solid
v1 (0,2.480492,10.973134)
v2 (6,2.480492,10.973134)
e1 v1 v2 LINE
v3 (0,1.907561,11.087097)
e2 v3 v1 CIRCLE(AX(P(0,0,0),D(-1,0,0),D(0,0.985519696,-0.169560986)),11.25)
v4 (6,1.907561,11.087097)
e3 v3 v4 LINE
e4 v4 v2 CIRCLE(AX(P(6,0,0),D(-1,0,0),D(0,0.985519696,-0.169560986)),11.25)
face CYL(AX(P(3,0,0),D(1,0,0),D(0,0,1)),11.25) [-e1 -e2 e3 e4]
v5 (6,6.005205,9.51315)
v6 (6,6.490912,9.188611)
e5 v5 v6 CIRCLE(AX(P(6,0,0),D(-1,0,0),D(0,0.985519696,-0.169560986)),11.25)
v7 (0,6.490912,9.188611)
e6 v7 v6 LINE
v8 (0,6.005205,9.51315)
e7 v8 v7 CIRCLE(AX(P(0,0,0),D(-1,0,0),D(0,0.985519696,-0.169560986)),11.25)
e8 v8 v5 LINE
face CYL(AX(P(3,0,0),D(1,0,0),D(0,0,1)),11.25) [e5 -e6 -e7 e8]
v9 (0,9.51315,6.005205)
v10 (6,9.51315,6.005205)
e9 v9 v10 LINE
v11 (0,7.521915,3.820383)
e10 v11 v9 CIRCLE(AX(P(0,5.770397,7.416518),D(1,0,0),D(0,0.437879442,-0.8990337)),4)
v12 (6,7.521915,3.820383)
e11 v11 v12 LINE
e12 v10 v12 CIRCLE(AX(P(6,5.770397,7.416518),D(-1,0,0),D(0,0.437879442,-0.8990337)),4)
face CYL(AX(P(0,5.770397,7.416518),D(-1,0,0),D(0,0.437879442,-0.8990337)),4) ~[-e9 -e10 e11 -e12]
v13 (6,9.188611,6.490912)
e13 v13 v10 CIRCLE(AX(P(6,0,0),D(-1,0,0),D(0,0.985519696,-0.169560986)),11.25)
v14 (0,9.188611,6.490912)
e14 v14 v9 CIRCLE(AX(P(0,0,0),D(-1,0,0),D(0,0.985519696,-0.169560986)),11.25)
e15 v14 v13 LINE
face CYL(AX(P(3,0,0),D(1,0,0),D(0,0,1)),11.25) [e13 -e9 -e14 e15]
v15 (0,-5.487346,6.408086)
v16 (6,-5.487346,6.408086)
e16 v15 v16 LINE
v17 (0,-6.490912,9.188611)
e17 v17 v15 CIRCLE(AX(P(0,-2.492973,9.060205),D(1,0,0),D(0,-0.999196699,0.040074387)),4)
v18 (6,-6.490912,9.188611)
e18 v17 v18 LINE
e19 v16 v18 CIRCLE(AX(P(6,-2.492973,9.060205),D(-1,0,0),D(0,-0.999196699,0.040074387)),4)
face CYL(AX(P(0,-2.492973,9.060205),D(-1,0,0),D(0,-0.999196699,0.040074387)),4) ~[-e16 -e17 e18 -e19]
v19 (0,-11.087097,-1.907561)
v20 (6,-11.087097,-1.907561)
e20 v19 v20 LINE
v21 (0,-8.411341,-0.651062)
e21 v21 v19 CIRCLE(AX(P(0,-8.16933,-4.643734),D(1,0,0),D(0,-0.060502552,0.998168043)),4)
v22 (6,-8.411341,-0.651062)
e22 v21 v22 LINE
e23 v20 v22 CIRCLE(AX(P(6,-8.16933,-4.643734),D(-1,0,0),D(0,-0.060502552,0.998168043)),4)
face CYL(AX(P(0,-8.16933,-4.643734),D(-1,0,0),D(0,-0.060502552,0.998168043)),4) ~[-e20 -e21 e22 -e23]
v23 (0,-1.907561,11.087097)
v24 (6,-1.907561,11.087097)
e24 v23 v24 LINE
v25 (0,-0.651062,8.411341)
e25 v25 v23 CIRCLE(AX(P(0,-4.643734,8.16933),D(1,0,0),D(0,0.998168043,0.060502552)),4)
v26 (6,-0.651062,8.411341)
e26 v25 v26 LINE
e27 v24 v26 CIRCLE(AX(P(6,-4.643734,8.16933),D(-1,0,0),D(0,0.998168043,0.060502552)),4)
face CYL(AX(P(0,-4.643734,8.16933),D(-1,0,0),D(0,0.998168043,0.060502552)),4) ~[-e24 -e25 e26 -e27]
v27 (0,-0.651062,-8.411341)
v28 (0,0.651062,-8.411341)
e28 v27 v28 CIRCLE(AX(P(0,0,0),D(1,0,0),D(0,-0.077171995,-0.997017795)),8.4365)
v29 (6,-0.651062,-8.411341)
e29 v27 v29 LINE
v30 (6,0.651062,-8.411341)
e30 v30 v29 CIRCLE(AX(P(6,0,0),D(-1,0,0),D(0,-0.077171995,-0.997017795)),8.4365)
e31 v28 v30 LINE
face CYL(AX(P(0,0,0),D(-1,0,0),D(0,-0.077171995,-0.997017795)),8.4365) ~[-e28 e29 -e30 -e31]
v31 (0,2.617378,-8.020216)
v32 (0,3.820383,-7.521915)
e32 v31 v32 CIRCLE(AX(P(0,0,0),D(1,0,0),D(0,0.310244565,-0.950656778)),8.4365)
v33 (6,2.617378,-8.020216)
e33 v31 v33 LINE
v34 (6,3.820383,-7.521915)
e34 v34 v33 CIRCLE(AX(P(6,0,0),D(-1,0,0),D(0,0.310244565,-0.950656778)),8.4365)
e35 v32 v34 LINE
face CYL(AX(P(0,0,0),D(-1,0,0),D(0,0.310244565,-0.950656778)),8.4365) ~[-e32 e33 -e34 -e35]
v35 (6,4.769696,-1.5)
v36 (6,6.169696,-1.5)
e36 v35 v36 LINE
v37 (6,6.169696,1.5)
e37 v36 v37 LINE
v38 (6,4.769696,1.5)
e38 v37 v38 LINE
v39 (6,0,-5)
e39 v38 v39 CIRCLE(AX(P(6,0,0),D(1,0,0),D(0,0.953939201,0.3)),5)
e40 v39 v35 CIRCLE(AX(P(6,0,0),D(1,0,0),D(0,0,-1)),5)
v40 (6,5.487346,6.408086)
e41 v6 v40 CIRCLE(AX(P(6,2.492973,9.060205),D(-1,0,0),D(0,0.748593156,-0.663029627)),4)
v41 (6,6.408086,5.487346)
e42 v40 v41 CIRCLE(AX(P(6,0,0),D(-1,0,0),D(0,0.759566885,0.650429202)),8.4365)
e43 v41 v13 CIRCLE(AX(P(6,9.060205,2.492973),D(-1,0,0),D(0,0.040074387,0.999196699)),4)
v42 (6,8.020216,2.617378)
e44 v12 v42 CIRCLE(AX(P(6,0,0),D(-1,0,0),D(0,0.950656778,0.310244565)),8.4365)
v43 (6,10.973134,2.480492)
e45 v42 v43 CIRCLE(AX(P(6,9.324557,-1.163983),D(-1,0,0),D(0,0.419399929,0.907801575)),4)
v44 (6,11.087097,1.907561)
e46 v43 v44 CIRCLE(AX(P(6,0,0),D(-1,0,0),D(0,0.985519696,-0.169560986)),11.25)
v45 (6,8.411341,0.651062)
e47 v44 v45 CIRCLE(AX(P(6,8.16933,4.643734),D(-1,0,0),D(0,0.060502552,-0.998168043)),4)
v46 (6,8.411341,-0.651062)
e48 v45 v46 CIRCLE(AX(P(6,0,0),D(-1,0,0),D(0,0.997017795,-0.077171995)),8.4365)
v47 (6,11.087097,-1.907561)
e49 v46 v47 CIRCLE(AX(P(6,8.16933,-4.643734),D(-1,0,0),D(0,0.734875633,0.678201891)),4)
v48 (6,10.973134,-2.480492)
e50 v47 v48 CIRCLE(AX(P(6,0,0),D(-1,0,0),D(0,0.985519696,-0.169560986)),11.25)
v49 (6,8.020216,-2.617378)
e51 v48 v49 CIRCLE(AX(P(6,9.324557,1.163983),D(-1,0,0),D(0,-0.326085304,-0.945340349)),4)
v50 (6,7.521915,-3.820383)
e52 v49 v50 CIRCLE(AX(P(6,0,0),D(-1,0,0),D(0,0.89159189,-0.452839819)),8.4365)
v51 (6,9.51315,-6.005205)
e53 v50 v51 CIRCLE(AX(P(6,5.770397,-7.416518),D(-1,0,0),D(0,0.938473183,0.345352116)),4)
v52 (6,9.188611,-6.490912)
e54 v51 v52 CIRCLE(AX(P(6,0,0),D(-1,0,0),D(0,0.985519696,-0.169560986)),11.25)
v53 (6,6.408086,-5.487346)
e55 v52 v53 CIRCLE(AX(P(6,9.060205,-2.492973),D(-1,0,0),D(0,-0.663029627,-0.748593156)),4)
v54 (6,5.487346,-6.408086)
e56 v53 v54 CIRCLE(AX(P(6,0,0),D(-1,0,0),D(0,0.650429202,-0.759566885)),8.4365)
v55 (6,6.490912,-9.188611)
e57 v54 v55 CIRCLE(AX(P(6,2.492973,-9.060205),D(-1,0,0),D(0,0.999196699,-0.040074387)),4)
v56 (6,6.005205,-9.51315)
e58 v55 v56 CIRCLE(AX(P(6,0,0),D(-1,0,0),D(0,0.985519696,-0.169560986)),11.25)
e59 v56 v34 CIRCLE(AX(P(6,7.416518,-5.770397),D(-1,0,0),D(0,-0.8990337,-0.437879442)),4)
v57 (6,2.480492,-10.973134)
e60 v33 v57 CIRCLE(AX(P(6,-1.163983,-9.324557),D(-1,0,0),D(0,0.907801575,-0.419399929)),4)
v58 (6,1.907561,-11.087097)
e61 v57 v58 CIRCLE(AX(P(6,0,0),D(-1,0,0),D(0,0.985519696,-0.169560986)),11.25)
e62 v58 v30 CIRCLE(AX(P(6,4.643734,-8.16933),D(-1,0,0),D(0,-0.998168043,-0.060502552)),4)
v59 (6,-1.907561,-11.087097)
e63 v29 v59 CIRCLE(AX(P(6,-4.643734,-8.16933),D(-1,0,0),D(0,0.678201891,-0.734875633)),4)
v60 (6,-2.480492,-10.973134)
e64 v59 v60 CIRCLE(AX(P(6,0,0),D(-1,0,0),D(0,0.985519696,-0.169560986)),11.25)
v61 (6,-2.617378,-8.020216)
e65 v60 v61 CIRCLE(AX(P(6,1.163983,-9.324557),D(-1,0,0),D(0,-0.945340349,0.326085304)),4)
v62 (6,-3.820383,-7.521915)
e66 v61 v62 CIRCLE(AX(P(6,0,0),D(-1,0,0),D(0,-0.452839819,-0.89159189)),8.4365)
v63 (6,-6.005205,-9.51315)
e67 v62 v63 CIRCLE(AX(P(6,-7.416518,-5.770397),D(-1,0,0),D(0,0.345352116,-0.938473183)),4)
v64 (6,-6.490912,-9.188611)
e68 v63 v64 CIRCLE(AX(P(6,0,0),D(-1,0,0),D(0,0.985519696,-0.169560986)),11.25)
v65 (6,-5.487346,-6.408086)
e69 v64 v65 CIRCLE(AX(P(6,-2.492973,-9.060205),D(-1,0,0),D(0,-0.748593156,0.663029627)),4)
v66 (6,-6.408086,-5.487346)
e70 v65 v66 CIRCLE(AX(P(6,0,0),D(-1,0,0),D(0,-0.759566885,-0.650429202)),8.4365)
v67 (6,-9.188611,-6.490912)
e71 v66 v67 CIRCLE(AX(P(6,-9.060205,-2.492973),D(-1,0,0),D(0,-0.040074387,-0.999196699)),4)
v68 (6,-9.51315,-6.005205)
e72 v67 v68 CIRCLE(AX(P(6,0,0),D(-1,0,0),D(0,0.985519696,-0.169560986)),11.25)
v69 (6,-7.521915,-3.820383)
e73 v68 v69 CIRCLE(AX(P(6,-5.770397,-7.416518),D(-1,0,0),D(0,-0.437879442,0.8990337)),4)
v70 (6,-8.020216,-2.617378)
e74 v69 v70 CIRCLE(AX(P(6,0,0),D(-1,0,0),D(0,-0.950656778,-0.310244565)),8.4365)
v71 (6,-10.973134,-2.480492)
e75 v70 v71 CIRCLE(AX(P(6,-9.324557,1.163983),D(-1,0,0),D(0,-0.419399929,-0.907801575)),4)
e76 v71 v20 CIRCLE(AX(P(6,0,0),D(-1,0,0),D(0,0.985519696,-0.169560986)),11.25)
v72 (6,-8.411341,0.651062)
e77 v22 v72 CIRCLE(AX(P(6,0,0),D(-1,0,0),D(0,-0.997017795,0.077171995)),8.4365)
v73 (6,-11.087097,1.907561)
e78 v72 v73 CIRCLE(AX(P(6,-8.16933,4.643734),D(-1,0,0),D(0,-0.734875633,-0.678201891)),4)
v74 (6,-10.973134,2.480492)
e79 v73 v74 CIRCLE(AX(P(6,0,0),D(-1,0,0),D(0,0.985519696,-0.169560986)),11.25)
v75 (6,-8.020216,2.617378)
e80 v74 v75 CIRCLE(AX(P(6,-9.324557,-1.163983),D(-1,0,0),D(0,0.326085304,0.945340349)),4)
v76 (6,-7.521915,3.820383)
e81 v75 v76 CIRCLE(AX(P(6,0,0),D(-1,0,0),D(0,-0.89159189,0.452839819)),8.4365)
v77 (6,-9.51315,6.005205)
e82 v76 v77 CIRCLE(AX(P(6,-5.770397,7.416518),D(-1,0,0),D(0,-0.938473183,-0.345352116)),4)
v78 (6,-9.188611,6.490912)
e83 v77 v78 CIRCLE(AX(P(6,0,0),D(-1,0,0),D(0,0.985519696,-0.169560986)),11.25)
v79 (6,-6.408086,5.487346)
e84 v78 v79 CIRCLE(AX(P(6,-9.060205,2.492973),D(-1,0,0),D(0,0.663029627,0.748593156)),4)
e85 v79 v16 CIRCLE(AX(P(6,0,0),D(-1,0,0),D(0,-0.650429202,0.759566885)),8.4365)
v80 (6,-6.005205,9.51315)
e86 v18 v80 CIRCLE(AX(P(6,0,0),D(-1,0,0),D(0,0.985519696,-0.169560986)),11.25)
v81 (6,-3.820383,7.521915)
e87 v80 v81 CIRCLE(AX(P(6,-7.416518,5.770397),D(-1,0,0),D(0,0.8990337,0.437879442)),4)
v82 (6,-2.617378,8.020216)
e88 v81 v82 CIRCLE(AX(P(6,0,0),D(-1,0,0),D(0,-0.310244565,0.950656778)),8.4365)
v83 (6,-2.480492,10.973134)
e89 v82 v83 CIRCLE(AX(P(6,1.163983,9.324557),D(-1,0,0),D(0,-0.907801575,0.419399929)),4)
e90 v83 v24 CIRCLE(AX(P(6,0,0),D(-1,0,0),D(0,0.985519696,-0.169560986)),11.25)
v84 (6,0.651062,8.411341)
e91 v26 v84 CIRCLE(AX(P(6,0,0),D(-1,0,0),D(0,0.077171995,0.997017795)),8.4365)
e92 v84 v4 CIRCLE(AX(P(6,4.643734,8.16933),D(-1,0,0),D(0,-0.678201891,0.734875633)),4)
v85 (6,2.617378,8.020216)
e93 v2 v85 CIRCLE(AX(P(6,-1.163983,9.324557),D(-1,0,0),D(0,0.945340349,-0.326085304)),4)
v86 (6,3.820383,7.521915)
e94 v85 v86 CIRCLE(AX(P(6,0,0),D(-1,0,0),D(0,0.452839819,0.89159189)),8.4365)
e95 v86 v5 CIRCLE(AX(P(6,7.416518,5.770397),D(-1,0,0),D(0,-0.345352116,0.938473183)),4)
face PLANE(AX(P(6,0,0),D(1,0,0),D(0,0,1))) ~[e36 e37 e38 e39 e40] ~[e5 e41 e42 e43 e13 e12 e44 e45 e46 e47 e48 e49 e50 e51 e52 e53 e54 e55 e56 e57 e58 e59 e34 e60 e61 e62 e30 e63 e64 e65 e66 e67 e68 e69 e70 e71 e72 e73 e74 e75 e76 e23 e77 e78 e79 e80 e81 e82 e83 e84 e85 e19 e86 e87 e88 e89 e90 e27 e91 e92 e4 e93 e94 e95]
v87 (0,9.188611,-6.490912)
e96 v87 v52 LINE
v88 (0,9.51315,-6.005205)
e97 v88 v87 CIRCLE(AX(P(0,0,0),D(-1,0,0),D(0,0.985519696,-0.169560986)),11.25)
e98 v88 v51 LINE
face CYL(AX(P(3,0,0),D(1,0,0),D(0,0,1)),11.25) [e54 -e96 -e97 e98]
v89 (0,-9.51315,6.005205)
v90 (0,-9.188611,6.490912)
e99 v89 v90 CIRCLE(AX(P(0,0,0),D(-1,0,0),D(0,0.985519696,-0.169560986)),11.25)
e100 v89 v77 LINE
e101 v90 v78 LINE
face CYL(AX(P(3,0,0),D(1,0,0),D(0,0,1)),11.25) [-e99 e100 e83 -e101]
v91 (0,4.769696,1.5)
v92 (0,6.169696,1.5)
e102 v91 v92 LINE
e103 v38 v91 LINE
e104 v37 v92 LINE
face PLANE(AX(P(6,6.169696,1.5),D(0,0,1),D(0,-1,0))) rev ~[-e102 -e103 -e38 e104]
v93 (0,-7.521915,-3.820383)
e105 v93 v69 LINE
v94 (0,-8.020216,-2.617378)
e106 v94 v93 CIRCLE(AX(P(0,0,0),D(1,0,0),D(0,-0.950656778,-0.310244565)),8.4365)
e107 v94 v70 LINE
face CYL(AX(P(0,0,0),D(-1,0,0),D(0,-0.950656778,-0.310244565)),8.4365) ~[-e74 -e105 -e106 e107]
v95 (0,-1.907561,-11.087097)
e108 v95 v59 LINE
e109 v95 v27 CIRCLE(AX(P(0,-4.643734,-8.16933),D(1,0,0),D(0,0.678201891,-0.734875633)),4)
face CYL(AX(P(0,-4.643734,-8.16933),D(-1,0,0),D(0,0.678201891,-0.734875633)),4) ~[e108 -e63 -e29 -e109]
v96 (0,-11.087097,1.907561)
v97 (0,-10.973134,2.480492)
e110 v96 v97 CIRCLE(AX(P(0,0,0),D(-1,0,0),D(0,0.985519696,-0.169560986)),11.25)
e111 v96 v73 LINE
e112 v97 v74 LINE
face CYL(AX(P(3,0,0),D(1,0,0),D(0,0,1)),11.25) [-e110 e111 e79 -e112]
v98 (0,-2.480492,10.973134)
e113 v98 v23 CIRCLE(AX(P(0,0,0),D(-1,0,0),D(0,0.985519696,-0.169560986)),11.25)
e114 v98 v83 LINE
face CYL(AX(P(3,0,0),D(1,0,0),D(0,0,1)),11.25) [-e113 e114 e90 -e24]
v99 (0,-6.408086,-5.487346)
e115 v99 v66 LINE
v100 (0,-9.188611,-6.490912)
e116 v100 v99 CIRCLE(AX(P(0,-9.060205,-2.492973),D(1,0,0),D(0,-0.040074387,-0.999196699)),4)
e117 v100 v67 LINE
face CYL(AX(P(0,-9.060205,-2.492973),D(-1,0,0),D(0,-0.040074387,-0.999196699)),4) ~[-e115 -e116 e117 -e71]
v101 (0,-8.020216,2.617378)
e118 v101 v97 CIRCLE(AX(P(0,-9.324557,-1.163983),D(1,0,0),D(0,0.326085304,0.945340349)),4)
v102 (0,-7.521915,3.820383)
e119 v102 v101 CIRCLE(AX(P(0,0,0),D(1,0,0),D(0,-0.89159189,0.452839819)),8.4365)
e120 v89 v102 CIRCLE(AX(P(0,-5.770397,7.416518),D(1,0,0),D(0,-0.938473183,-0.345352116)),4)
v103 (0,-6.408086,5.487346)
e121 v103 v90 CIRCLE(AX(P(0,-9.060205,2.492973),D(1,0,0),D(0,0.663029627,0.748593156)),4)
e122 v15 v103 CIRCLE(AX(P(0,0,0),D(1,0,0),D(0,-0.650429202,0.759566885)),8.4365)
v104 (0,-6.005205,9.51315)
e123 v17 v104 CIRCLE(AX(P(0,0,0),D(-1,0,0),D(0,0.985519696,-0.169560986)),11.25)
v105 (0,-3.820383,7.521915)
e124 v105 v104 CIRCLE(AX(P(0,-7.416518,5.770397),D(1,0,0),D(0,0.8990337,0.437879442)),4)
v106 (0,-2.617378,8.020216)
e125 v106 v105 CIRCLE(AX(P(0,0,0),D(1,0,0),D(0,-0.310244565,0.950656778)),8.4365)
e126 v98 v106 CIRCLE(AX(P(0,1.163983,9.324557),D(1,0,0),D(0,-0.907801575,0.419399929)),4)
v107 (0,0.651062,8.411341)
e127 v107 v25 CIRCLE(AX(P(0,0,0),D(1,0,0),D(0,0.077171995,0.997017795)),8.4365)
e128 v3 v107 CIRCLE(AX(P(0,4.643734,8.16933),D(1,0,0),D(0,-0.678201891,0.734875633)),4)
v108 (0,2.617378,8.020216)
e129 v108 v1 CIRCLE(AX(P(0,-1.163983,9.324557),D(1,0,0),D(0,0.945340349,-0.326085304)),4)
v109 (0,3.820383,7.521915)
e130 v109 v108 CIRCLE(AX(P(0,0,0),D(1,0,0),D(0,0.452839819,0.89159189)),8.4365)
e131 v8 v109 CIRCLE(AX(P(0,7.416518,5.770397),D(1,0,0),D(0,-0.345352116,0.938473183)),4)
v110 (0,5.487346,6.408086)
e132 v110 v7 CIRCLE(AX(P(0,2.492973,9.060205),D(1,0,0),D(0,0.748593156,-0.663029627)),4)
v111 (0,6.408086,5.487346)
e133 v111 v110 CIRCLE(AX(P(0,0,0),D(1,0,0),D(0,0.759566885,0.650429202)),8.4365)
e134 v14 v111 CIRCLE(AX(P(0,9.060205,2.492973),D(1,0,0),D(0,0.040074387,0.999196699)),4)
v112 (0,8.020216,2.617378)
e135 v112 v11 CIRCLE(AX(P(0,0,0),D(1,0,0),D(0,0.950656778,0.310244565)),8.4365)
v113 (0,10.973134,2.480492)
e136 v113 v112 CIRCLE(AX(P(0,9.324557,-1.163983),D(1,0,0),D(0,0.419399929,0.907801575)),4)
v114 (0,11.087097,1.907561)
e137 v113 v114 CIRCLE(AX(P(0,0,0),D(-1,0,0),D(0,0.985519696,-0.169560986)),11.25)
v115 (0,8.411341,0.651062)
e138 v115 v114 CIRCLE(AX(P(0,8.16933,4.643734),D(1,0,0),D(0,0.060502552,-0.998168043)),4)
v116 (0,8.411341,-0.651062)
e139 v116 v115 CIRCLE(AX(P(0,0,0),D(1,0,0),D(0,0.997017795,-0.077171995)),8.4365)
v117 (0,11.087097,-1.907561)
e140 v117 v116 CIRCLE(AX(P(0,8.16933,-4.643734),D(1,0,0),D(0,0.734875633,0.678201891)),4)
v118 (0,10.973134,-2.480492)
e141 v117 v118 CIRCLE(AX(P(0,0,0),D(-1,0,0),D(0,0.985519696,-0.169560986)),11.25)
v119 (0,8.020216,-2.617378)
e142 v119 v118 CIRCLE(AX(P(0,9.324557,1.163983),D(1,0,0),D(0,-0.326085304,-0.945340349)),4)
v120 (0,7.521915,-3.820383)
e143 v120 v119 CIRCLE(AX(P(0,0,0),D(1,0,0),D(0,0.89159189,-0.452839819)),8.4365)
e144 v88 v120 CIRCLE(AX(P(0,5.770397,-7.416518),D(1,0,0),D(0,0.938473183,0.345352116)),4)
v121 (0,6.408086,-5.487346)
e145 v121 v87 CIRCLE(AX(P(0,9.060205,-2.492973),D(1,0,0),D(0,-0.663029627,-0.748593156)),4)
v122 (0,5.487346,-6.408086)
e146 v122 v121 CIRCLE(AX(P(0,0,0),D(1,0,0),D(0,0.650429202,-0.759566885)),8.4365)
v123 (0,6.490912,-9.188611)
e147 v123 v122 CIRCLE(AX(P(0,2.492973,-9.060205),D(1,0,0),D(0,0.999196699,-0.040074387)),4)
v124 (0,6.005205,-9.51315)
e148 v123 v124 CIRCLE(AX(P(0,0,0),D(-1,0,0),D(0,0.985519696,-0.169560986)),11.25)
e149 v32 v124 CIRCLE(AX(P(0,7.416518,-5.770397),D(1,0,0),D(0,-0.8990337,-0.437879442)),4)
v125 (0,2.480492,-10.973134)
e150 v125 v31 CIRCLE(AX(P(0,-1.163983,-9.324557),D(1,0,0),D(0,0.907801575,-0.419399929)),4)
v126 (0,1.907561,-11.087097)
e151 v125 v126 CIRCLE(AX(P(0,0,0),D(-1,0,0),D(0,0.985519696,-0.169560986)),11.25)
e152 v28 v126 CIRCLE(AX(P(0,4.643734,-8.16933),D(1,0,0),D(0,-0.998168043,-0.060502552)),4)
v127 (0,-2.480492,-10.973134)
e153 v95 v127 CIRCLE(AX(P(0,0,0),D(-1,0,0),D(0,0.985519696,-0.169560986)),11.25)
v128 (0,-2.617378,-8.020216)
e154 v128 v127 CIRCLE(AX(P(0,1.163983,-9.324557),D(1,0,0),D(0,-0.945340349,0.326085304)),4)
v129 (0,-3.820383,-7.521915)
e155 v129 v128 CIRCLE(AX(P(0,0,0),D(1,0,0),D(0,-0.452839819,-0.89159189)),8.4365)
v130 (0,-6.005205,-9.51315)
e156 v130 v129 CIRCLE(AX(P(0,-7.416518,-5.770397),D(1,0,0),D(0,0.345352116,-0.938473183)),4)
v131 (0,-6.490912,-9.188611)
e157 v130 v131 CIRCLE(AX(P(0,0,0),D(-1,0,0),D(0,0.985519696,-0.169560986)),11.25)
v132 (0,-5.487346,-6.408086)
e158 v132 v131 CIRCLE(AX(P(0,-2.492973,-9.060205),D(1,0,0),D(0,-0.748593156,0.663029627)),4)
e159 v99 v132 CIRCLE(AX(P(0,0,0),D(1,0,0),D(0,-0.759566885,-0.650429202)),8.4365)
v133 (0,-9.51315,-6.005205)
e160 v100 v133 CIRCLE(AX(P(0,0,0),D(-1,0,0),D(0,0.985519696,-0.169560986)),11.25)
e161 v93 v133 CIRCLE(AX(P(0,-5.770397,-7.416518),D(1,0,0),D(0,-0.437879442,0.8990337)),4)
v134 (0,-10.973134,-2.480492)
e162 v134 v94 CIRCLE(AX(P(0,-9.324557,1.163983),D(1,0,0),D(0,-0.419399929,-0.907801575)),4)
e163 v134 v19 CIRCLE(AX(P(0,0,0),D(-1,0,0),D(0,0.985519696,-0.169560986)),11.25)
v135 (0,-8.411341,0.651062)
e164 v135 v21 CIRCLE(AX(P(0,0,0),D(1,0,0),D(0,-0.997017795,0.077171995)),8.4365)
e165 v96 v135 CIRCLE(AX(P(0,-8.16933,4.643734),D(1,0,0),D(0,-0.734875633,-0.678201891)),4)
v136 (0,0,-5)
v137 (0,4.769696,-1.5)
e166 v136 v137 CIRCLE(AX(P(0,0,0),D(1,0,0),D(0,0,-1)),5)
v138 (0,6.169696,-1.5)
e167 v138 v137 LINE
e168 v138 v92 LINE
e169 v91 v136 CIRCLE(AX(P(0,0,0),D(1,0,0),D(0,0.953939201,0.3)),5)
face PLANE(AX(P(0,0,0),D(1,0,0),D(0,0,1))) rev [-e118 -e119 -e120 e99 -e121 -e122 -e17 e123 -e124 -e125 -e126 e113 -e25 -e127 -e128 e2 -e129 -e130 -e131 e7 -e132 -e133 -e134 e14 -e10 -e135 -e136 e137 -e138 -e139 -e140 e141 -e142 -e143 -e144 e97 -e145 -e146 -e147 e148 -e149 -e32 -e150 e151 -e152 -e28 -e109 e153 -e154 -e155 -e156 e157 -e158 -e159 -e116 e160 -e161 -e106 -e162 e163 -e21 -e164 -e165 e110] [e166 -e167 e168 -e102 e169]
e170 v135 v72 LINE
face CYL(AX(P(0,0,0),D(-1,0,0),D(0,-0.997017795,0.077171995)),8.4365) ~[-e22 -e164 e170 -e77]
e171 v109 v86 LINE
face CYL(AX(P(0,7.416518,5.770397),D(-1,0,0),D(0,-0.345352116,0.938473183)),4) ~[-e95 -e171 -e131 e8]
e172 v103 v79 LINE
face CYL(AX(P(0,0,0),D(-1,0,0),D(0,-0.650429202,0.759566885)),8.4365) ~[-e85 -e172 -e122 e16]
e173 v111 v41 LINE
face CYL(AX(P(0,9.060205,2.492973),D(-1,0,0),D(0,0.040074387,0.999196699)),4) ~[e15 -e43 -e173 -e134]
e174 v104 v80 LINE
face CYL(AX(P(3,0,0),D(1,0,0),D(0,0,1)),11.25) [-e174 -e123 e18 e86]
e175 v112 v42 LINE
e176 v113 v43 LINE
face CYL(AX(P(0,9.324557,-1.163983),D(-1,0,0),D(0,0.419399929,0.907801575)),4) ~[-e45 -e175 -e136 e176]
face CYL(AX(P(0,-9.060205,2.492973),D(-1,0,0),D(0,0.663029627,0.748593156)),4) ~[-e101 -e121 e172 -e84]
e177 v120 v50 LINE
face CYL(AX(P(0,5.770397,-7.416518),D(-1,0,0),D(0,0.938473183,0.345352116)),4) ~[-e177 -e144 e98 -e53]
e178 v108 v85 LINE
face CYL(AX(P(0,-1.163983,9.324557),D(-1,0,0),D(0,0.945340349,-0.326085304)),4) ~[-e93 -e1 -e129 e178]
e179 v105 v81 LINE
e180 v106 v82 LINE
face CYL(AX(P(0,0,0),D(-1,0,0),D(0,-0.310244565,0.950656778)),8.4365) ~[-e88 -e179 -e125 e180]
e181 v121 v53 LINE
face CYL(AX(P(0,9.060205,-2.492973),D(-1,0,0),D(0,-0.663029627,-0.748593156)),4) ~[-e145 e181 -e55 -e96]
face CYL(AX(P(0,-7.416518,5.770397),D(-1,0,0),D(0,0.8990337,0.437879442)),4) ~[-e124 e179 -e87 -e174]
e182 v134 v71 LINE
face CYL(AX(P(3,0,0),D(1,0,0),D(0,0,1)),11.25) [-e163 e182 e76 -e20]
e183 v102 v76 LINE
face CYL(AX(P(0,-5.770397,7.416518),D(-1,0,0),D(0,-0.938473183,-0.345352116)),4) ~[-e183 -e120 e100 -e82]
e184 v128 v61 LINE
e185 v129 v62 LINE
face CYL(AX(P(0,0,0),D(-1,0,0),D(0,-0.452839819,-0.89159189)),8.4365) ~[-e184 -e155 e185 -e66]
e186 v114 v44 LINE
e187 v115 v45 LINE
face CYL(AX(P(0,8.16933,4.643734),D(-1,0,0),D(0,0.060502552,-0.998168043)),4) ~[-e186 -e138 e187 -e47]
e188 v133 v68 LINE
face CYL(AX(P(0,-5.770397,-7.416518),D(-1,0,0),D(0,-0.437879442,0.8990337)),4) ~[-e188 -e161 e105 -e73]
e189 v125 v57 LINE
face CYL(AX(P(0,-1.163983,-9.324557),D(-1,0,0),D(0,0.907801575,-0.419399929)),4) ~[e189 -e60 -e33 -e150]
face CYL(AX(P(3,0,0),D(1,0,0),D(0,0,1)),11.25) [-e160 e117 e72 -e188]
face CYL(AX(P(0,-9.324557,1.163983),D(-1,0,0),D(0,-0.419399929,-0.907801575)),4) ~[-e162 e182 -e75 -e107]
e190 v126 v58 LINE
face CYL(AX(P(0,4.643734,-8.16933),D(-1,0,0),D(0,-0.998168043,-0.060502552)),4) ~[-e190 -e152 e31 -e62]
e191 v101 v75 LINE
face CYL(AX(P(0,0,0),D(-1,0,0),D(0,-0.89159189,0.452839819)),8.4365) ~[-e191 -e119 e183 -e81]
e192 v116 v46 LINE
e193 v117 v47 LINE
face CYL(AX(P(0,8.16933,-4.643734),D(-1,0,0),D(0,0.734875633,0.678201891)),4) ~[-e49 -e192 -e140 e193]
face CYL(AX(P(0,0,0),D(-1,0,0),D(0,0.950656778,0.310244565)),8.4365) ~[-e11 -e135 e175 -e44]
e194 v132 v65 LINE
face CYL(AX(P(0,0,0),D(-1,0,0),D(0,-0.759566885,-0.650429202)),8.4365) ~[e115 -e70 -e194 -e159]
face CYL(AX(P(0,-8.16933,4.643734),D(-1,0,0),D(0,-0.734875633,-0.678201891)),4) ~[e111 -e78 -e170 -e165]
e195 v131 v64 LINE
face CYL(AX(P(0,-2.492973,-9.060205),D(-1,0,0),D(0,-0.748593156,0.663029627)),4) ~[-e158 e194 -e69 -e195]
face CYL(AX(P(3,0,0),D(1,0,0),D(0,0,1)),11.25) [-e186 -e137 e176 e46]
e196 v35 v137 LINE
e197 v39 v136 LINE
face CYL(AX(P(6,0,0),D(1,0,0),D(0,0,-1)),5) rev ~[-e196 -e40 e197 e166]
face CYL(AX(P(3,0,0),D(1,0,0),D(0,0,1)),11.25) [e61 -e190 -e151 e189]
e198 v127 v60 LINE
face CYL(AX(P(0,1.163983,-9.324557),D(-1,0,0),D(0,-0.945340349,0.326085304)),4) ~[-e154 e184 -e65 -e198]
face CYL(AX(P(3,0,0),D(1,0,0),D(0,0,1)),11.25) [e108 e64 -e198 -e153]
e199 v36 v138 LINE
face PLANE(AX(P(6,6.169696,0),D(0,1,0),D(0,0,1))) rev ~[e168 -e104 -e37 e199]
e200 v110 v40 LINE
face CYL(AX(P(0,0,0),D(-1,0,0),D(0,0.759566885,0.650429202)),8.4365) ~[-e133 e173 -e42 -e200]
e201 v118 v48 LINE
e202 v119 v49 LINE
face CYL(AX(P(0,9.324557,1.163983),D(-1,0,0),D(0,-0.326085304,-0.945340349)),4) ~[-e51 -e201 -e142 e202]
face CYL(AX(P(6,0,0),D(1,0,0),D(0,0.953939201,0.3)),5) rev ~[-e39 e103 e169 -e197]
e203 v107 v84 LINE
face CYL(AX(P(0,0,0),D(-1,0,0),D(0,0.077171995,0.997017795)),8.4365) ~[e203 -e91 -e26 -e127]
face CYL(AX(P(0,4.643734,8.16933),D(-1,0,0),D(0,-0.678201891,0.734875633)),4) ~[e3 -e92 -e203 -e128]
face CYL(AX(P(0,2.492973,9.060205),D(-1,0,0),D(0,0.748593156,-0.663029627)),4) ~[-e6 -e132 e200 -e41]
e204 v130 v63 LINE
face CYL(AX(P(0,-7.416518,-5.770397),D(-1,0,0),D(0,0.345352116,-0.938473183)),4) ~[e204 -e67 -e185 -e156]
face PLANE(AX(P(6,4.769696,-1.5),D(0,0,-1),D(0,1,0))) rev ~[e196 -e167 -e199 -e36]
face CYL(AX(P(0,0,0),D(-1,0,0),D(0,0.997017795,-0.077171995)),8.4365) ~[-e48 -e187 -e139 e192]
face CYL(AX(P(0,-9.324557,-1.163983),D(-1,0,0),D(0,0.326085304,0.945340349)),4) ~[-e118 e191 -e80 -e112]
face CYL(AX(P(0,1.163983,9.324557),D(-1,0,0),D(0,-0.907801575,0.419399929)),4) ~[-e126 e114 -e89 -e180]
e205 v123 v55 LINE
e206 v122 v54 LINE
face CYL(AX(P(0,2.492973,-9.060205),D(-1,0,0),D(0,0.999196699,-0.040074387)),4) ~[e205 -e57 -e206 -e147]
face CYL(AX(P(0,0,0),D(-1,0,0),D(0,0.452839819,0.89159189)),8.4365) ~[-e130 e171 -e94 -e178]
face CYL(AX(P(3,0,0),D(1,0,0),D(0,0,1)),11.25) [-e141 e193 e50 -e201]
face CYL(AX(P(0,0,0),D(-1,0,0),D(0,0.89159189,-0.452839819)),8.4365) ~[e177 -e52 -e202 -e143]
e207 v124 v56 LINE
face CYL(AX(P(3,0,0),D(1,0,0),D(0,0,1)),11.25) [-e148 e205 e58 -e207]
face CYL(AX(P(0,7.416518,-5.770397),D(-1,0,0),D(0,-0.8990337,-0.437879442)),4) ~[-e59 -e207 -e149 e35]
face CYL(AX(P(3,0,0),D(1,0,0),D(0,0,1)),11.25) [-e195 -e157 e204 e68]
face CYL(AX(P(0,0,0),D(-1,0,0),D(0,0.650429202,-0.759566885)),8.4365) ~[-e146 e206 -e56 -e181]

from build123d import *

# Parameters (mm, degrees)
BASPROSKE_W              = 6
BASPROSKE_H              = 11.25
TOOTHCUT_DEPTH           = 18.003676073
TEETHCUTS_COUNT          = 16
TEETHCUTS_ANGLE          = 337.5
BORSKE_R                 = 0.4
BORE_DEPTH               = 50.0000508
TAGLIO_ESTRUSIONE1_DEPTH = 10


with BuildPart() as part:
    # BasProSke → Base-Revolve (revolve)
    with BuildSketch(Plane(origin=(0, 0, 0), x_dir=(1, 0, 0), z_dir=(0, 1, 0)), mode=Mode.PRIVATE) as base_revolve_sk:
        with Locations((3, 5.625)):
            Rectangle(BASPROSKE_W, BASPROSKE_H)
    revolve(base_revolve_sk.sketch.rotate(Axis((-10, 0, 0), (1, 0, 0)), 180), axis=Axis((-10, 0, 0), (1, 0, 0)))

    # TooCutSke → ToothCut (cut, through all)
    with BuildSketch(Plane(origin=(0, 0, 0), x_dir=(0, 0, -1), z_dir=(1, 0, 0))):
        with BuildLine():
            ThreePointArc((0.651061533, 8.411340626), (0, 8.4365), (-0.651061533, 8.411340626))
            ThreePointArc((-0.651061533, 8.411340626), (-1.029874156, 9.883978829), (-1.930926138, 11.108832945))
            ThreePointArc((-1.930926138, 11.108832945), (0, 11.2754), (1.930926138, 11.108832945))
            ThreePointArc((1.930926138, 11.108832945), (1.029874156, 9.883978829), (0.651061533, 8.411340626))
        make_face()
    toothcut = extrude(amount=TOOTHCUT_DEPTH, mode=Mode.SUBTRACT)

    # TeethCuts: ToothCut ×16 about axis
    teethcuts_axis = Axis((-10, 0, 0), (1, 0, 0))
    for i in range(1, TEETHCUTS_COUNT):
        add(toothcut.rotate(teethcuts_axis, i * TEETHCUTS_ANGLE / (TEETHCUTS_COUNT - 1)), mode=Mode.SUBTRACT)

    # BorSke → Bore (cut, symmetric)
    with BuildSketch(Plane(origin=(0, 0, 0), x_dir=(0, 0, -1), z_dir=(1, 0, 0))):
        with Locations(Location((0, 0, 0), (0, 0, 180))):
            Circle(BORSKE_R)
    extrude(amount=BORE_DEPTH, both=True, mode=Mode.SUBTRACT)

    # Schizzo1 → Taglio-Estrusione1 (cut)
    # profile 1 of 3: a face of its own
    with BuildSketch(Plane(origin=(6, 0, 0), x_dir=(0, 0, -1), z_dir=(1, 0, 0))):
        with BuildLine():
            ThreePointArc((1.5, 4.769696007), (0.758788496, 4.942088629), (0, 5))
            ThreePointArc((0, 5), (-0.758788496, 4.942088629), (-1.5, 4.769696007))
            ThreePointArc((-1.5, 4.769696007), (-2.958039892, -4.031128874), (5, 0))
            ThreePointArc((5, 0), (4.031128874, 2.958039892), (1.5, 4.769696007))
        make_face()
        with BuildLine():
            ThreePointArc((0.4, 0), (-0.282842712, -0.282842712), (0, 0.4))
            ThreePointArc((0, 0.4), (0.282842712, 0.282842712), (0.4, 0))
        make_face(mode=Mode.SUBTRACT)
    # profile 2 of 3: a face of its own
    with BuildSketch(Plane(origin=(6, 0, 0), x_dir=(0, 0, -1), z_dir=(1, 0, 0))):
        with BuildLine():
            ThreePointArc((-1.5, 4.769696007), (-0.758788496, 4.942088629), (0, 5))
            Line((0, 5), (0, 6.169696007))
            Line((0, 6.169696007), (-1.5, 6.169696007))
            Line((-1.5, 6.169696007), (-1.5, 4.769696007))
        make_face()
    # profile 3 of 3: a face of its own
    with BuildSketch(Plane(origin=(6, 0, 0), x_dir=(0, 0, -1), z_dir=(1, 0, 0))):
        with BuildLine():
            Line((0, 6.169696007), (0, 5))
            ThreePointArc((0, 5), (0.758788496, 4.942088629), (1.5, 4.769696007))
            Line((1.5, 4.769696007), (1.5, 6.169696007))
            Line((1.5, 6.169696007), (0, 6.169696007))
        make_face()
    extrude(amount=-TAGLIO_ESTRUSIONE1_DEPTH, mode=Mode.SUBTRACT)


solid = part.part
